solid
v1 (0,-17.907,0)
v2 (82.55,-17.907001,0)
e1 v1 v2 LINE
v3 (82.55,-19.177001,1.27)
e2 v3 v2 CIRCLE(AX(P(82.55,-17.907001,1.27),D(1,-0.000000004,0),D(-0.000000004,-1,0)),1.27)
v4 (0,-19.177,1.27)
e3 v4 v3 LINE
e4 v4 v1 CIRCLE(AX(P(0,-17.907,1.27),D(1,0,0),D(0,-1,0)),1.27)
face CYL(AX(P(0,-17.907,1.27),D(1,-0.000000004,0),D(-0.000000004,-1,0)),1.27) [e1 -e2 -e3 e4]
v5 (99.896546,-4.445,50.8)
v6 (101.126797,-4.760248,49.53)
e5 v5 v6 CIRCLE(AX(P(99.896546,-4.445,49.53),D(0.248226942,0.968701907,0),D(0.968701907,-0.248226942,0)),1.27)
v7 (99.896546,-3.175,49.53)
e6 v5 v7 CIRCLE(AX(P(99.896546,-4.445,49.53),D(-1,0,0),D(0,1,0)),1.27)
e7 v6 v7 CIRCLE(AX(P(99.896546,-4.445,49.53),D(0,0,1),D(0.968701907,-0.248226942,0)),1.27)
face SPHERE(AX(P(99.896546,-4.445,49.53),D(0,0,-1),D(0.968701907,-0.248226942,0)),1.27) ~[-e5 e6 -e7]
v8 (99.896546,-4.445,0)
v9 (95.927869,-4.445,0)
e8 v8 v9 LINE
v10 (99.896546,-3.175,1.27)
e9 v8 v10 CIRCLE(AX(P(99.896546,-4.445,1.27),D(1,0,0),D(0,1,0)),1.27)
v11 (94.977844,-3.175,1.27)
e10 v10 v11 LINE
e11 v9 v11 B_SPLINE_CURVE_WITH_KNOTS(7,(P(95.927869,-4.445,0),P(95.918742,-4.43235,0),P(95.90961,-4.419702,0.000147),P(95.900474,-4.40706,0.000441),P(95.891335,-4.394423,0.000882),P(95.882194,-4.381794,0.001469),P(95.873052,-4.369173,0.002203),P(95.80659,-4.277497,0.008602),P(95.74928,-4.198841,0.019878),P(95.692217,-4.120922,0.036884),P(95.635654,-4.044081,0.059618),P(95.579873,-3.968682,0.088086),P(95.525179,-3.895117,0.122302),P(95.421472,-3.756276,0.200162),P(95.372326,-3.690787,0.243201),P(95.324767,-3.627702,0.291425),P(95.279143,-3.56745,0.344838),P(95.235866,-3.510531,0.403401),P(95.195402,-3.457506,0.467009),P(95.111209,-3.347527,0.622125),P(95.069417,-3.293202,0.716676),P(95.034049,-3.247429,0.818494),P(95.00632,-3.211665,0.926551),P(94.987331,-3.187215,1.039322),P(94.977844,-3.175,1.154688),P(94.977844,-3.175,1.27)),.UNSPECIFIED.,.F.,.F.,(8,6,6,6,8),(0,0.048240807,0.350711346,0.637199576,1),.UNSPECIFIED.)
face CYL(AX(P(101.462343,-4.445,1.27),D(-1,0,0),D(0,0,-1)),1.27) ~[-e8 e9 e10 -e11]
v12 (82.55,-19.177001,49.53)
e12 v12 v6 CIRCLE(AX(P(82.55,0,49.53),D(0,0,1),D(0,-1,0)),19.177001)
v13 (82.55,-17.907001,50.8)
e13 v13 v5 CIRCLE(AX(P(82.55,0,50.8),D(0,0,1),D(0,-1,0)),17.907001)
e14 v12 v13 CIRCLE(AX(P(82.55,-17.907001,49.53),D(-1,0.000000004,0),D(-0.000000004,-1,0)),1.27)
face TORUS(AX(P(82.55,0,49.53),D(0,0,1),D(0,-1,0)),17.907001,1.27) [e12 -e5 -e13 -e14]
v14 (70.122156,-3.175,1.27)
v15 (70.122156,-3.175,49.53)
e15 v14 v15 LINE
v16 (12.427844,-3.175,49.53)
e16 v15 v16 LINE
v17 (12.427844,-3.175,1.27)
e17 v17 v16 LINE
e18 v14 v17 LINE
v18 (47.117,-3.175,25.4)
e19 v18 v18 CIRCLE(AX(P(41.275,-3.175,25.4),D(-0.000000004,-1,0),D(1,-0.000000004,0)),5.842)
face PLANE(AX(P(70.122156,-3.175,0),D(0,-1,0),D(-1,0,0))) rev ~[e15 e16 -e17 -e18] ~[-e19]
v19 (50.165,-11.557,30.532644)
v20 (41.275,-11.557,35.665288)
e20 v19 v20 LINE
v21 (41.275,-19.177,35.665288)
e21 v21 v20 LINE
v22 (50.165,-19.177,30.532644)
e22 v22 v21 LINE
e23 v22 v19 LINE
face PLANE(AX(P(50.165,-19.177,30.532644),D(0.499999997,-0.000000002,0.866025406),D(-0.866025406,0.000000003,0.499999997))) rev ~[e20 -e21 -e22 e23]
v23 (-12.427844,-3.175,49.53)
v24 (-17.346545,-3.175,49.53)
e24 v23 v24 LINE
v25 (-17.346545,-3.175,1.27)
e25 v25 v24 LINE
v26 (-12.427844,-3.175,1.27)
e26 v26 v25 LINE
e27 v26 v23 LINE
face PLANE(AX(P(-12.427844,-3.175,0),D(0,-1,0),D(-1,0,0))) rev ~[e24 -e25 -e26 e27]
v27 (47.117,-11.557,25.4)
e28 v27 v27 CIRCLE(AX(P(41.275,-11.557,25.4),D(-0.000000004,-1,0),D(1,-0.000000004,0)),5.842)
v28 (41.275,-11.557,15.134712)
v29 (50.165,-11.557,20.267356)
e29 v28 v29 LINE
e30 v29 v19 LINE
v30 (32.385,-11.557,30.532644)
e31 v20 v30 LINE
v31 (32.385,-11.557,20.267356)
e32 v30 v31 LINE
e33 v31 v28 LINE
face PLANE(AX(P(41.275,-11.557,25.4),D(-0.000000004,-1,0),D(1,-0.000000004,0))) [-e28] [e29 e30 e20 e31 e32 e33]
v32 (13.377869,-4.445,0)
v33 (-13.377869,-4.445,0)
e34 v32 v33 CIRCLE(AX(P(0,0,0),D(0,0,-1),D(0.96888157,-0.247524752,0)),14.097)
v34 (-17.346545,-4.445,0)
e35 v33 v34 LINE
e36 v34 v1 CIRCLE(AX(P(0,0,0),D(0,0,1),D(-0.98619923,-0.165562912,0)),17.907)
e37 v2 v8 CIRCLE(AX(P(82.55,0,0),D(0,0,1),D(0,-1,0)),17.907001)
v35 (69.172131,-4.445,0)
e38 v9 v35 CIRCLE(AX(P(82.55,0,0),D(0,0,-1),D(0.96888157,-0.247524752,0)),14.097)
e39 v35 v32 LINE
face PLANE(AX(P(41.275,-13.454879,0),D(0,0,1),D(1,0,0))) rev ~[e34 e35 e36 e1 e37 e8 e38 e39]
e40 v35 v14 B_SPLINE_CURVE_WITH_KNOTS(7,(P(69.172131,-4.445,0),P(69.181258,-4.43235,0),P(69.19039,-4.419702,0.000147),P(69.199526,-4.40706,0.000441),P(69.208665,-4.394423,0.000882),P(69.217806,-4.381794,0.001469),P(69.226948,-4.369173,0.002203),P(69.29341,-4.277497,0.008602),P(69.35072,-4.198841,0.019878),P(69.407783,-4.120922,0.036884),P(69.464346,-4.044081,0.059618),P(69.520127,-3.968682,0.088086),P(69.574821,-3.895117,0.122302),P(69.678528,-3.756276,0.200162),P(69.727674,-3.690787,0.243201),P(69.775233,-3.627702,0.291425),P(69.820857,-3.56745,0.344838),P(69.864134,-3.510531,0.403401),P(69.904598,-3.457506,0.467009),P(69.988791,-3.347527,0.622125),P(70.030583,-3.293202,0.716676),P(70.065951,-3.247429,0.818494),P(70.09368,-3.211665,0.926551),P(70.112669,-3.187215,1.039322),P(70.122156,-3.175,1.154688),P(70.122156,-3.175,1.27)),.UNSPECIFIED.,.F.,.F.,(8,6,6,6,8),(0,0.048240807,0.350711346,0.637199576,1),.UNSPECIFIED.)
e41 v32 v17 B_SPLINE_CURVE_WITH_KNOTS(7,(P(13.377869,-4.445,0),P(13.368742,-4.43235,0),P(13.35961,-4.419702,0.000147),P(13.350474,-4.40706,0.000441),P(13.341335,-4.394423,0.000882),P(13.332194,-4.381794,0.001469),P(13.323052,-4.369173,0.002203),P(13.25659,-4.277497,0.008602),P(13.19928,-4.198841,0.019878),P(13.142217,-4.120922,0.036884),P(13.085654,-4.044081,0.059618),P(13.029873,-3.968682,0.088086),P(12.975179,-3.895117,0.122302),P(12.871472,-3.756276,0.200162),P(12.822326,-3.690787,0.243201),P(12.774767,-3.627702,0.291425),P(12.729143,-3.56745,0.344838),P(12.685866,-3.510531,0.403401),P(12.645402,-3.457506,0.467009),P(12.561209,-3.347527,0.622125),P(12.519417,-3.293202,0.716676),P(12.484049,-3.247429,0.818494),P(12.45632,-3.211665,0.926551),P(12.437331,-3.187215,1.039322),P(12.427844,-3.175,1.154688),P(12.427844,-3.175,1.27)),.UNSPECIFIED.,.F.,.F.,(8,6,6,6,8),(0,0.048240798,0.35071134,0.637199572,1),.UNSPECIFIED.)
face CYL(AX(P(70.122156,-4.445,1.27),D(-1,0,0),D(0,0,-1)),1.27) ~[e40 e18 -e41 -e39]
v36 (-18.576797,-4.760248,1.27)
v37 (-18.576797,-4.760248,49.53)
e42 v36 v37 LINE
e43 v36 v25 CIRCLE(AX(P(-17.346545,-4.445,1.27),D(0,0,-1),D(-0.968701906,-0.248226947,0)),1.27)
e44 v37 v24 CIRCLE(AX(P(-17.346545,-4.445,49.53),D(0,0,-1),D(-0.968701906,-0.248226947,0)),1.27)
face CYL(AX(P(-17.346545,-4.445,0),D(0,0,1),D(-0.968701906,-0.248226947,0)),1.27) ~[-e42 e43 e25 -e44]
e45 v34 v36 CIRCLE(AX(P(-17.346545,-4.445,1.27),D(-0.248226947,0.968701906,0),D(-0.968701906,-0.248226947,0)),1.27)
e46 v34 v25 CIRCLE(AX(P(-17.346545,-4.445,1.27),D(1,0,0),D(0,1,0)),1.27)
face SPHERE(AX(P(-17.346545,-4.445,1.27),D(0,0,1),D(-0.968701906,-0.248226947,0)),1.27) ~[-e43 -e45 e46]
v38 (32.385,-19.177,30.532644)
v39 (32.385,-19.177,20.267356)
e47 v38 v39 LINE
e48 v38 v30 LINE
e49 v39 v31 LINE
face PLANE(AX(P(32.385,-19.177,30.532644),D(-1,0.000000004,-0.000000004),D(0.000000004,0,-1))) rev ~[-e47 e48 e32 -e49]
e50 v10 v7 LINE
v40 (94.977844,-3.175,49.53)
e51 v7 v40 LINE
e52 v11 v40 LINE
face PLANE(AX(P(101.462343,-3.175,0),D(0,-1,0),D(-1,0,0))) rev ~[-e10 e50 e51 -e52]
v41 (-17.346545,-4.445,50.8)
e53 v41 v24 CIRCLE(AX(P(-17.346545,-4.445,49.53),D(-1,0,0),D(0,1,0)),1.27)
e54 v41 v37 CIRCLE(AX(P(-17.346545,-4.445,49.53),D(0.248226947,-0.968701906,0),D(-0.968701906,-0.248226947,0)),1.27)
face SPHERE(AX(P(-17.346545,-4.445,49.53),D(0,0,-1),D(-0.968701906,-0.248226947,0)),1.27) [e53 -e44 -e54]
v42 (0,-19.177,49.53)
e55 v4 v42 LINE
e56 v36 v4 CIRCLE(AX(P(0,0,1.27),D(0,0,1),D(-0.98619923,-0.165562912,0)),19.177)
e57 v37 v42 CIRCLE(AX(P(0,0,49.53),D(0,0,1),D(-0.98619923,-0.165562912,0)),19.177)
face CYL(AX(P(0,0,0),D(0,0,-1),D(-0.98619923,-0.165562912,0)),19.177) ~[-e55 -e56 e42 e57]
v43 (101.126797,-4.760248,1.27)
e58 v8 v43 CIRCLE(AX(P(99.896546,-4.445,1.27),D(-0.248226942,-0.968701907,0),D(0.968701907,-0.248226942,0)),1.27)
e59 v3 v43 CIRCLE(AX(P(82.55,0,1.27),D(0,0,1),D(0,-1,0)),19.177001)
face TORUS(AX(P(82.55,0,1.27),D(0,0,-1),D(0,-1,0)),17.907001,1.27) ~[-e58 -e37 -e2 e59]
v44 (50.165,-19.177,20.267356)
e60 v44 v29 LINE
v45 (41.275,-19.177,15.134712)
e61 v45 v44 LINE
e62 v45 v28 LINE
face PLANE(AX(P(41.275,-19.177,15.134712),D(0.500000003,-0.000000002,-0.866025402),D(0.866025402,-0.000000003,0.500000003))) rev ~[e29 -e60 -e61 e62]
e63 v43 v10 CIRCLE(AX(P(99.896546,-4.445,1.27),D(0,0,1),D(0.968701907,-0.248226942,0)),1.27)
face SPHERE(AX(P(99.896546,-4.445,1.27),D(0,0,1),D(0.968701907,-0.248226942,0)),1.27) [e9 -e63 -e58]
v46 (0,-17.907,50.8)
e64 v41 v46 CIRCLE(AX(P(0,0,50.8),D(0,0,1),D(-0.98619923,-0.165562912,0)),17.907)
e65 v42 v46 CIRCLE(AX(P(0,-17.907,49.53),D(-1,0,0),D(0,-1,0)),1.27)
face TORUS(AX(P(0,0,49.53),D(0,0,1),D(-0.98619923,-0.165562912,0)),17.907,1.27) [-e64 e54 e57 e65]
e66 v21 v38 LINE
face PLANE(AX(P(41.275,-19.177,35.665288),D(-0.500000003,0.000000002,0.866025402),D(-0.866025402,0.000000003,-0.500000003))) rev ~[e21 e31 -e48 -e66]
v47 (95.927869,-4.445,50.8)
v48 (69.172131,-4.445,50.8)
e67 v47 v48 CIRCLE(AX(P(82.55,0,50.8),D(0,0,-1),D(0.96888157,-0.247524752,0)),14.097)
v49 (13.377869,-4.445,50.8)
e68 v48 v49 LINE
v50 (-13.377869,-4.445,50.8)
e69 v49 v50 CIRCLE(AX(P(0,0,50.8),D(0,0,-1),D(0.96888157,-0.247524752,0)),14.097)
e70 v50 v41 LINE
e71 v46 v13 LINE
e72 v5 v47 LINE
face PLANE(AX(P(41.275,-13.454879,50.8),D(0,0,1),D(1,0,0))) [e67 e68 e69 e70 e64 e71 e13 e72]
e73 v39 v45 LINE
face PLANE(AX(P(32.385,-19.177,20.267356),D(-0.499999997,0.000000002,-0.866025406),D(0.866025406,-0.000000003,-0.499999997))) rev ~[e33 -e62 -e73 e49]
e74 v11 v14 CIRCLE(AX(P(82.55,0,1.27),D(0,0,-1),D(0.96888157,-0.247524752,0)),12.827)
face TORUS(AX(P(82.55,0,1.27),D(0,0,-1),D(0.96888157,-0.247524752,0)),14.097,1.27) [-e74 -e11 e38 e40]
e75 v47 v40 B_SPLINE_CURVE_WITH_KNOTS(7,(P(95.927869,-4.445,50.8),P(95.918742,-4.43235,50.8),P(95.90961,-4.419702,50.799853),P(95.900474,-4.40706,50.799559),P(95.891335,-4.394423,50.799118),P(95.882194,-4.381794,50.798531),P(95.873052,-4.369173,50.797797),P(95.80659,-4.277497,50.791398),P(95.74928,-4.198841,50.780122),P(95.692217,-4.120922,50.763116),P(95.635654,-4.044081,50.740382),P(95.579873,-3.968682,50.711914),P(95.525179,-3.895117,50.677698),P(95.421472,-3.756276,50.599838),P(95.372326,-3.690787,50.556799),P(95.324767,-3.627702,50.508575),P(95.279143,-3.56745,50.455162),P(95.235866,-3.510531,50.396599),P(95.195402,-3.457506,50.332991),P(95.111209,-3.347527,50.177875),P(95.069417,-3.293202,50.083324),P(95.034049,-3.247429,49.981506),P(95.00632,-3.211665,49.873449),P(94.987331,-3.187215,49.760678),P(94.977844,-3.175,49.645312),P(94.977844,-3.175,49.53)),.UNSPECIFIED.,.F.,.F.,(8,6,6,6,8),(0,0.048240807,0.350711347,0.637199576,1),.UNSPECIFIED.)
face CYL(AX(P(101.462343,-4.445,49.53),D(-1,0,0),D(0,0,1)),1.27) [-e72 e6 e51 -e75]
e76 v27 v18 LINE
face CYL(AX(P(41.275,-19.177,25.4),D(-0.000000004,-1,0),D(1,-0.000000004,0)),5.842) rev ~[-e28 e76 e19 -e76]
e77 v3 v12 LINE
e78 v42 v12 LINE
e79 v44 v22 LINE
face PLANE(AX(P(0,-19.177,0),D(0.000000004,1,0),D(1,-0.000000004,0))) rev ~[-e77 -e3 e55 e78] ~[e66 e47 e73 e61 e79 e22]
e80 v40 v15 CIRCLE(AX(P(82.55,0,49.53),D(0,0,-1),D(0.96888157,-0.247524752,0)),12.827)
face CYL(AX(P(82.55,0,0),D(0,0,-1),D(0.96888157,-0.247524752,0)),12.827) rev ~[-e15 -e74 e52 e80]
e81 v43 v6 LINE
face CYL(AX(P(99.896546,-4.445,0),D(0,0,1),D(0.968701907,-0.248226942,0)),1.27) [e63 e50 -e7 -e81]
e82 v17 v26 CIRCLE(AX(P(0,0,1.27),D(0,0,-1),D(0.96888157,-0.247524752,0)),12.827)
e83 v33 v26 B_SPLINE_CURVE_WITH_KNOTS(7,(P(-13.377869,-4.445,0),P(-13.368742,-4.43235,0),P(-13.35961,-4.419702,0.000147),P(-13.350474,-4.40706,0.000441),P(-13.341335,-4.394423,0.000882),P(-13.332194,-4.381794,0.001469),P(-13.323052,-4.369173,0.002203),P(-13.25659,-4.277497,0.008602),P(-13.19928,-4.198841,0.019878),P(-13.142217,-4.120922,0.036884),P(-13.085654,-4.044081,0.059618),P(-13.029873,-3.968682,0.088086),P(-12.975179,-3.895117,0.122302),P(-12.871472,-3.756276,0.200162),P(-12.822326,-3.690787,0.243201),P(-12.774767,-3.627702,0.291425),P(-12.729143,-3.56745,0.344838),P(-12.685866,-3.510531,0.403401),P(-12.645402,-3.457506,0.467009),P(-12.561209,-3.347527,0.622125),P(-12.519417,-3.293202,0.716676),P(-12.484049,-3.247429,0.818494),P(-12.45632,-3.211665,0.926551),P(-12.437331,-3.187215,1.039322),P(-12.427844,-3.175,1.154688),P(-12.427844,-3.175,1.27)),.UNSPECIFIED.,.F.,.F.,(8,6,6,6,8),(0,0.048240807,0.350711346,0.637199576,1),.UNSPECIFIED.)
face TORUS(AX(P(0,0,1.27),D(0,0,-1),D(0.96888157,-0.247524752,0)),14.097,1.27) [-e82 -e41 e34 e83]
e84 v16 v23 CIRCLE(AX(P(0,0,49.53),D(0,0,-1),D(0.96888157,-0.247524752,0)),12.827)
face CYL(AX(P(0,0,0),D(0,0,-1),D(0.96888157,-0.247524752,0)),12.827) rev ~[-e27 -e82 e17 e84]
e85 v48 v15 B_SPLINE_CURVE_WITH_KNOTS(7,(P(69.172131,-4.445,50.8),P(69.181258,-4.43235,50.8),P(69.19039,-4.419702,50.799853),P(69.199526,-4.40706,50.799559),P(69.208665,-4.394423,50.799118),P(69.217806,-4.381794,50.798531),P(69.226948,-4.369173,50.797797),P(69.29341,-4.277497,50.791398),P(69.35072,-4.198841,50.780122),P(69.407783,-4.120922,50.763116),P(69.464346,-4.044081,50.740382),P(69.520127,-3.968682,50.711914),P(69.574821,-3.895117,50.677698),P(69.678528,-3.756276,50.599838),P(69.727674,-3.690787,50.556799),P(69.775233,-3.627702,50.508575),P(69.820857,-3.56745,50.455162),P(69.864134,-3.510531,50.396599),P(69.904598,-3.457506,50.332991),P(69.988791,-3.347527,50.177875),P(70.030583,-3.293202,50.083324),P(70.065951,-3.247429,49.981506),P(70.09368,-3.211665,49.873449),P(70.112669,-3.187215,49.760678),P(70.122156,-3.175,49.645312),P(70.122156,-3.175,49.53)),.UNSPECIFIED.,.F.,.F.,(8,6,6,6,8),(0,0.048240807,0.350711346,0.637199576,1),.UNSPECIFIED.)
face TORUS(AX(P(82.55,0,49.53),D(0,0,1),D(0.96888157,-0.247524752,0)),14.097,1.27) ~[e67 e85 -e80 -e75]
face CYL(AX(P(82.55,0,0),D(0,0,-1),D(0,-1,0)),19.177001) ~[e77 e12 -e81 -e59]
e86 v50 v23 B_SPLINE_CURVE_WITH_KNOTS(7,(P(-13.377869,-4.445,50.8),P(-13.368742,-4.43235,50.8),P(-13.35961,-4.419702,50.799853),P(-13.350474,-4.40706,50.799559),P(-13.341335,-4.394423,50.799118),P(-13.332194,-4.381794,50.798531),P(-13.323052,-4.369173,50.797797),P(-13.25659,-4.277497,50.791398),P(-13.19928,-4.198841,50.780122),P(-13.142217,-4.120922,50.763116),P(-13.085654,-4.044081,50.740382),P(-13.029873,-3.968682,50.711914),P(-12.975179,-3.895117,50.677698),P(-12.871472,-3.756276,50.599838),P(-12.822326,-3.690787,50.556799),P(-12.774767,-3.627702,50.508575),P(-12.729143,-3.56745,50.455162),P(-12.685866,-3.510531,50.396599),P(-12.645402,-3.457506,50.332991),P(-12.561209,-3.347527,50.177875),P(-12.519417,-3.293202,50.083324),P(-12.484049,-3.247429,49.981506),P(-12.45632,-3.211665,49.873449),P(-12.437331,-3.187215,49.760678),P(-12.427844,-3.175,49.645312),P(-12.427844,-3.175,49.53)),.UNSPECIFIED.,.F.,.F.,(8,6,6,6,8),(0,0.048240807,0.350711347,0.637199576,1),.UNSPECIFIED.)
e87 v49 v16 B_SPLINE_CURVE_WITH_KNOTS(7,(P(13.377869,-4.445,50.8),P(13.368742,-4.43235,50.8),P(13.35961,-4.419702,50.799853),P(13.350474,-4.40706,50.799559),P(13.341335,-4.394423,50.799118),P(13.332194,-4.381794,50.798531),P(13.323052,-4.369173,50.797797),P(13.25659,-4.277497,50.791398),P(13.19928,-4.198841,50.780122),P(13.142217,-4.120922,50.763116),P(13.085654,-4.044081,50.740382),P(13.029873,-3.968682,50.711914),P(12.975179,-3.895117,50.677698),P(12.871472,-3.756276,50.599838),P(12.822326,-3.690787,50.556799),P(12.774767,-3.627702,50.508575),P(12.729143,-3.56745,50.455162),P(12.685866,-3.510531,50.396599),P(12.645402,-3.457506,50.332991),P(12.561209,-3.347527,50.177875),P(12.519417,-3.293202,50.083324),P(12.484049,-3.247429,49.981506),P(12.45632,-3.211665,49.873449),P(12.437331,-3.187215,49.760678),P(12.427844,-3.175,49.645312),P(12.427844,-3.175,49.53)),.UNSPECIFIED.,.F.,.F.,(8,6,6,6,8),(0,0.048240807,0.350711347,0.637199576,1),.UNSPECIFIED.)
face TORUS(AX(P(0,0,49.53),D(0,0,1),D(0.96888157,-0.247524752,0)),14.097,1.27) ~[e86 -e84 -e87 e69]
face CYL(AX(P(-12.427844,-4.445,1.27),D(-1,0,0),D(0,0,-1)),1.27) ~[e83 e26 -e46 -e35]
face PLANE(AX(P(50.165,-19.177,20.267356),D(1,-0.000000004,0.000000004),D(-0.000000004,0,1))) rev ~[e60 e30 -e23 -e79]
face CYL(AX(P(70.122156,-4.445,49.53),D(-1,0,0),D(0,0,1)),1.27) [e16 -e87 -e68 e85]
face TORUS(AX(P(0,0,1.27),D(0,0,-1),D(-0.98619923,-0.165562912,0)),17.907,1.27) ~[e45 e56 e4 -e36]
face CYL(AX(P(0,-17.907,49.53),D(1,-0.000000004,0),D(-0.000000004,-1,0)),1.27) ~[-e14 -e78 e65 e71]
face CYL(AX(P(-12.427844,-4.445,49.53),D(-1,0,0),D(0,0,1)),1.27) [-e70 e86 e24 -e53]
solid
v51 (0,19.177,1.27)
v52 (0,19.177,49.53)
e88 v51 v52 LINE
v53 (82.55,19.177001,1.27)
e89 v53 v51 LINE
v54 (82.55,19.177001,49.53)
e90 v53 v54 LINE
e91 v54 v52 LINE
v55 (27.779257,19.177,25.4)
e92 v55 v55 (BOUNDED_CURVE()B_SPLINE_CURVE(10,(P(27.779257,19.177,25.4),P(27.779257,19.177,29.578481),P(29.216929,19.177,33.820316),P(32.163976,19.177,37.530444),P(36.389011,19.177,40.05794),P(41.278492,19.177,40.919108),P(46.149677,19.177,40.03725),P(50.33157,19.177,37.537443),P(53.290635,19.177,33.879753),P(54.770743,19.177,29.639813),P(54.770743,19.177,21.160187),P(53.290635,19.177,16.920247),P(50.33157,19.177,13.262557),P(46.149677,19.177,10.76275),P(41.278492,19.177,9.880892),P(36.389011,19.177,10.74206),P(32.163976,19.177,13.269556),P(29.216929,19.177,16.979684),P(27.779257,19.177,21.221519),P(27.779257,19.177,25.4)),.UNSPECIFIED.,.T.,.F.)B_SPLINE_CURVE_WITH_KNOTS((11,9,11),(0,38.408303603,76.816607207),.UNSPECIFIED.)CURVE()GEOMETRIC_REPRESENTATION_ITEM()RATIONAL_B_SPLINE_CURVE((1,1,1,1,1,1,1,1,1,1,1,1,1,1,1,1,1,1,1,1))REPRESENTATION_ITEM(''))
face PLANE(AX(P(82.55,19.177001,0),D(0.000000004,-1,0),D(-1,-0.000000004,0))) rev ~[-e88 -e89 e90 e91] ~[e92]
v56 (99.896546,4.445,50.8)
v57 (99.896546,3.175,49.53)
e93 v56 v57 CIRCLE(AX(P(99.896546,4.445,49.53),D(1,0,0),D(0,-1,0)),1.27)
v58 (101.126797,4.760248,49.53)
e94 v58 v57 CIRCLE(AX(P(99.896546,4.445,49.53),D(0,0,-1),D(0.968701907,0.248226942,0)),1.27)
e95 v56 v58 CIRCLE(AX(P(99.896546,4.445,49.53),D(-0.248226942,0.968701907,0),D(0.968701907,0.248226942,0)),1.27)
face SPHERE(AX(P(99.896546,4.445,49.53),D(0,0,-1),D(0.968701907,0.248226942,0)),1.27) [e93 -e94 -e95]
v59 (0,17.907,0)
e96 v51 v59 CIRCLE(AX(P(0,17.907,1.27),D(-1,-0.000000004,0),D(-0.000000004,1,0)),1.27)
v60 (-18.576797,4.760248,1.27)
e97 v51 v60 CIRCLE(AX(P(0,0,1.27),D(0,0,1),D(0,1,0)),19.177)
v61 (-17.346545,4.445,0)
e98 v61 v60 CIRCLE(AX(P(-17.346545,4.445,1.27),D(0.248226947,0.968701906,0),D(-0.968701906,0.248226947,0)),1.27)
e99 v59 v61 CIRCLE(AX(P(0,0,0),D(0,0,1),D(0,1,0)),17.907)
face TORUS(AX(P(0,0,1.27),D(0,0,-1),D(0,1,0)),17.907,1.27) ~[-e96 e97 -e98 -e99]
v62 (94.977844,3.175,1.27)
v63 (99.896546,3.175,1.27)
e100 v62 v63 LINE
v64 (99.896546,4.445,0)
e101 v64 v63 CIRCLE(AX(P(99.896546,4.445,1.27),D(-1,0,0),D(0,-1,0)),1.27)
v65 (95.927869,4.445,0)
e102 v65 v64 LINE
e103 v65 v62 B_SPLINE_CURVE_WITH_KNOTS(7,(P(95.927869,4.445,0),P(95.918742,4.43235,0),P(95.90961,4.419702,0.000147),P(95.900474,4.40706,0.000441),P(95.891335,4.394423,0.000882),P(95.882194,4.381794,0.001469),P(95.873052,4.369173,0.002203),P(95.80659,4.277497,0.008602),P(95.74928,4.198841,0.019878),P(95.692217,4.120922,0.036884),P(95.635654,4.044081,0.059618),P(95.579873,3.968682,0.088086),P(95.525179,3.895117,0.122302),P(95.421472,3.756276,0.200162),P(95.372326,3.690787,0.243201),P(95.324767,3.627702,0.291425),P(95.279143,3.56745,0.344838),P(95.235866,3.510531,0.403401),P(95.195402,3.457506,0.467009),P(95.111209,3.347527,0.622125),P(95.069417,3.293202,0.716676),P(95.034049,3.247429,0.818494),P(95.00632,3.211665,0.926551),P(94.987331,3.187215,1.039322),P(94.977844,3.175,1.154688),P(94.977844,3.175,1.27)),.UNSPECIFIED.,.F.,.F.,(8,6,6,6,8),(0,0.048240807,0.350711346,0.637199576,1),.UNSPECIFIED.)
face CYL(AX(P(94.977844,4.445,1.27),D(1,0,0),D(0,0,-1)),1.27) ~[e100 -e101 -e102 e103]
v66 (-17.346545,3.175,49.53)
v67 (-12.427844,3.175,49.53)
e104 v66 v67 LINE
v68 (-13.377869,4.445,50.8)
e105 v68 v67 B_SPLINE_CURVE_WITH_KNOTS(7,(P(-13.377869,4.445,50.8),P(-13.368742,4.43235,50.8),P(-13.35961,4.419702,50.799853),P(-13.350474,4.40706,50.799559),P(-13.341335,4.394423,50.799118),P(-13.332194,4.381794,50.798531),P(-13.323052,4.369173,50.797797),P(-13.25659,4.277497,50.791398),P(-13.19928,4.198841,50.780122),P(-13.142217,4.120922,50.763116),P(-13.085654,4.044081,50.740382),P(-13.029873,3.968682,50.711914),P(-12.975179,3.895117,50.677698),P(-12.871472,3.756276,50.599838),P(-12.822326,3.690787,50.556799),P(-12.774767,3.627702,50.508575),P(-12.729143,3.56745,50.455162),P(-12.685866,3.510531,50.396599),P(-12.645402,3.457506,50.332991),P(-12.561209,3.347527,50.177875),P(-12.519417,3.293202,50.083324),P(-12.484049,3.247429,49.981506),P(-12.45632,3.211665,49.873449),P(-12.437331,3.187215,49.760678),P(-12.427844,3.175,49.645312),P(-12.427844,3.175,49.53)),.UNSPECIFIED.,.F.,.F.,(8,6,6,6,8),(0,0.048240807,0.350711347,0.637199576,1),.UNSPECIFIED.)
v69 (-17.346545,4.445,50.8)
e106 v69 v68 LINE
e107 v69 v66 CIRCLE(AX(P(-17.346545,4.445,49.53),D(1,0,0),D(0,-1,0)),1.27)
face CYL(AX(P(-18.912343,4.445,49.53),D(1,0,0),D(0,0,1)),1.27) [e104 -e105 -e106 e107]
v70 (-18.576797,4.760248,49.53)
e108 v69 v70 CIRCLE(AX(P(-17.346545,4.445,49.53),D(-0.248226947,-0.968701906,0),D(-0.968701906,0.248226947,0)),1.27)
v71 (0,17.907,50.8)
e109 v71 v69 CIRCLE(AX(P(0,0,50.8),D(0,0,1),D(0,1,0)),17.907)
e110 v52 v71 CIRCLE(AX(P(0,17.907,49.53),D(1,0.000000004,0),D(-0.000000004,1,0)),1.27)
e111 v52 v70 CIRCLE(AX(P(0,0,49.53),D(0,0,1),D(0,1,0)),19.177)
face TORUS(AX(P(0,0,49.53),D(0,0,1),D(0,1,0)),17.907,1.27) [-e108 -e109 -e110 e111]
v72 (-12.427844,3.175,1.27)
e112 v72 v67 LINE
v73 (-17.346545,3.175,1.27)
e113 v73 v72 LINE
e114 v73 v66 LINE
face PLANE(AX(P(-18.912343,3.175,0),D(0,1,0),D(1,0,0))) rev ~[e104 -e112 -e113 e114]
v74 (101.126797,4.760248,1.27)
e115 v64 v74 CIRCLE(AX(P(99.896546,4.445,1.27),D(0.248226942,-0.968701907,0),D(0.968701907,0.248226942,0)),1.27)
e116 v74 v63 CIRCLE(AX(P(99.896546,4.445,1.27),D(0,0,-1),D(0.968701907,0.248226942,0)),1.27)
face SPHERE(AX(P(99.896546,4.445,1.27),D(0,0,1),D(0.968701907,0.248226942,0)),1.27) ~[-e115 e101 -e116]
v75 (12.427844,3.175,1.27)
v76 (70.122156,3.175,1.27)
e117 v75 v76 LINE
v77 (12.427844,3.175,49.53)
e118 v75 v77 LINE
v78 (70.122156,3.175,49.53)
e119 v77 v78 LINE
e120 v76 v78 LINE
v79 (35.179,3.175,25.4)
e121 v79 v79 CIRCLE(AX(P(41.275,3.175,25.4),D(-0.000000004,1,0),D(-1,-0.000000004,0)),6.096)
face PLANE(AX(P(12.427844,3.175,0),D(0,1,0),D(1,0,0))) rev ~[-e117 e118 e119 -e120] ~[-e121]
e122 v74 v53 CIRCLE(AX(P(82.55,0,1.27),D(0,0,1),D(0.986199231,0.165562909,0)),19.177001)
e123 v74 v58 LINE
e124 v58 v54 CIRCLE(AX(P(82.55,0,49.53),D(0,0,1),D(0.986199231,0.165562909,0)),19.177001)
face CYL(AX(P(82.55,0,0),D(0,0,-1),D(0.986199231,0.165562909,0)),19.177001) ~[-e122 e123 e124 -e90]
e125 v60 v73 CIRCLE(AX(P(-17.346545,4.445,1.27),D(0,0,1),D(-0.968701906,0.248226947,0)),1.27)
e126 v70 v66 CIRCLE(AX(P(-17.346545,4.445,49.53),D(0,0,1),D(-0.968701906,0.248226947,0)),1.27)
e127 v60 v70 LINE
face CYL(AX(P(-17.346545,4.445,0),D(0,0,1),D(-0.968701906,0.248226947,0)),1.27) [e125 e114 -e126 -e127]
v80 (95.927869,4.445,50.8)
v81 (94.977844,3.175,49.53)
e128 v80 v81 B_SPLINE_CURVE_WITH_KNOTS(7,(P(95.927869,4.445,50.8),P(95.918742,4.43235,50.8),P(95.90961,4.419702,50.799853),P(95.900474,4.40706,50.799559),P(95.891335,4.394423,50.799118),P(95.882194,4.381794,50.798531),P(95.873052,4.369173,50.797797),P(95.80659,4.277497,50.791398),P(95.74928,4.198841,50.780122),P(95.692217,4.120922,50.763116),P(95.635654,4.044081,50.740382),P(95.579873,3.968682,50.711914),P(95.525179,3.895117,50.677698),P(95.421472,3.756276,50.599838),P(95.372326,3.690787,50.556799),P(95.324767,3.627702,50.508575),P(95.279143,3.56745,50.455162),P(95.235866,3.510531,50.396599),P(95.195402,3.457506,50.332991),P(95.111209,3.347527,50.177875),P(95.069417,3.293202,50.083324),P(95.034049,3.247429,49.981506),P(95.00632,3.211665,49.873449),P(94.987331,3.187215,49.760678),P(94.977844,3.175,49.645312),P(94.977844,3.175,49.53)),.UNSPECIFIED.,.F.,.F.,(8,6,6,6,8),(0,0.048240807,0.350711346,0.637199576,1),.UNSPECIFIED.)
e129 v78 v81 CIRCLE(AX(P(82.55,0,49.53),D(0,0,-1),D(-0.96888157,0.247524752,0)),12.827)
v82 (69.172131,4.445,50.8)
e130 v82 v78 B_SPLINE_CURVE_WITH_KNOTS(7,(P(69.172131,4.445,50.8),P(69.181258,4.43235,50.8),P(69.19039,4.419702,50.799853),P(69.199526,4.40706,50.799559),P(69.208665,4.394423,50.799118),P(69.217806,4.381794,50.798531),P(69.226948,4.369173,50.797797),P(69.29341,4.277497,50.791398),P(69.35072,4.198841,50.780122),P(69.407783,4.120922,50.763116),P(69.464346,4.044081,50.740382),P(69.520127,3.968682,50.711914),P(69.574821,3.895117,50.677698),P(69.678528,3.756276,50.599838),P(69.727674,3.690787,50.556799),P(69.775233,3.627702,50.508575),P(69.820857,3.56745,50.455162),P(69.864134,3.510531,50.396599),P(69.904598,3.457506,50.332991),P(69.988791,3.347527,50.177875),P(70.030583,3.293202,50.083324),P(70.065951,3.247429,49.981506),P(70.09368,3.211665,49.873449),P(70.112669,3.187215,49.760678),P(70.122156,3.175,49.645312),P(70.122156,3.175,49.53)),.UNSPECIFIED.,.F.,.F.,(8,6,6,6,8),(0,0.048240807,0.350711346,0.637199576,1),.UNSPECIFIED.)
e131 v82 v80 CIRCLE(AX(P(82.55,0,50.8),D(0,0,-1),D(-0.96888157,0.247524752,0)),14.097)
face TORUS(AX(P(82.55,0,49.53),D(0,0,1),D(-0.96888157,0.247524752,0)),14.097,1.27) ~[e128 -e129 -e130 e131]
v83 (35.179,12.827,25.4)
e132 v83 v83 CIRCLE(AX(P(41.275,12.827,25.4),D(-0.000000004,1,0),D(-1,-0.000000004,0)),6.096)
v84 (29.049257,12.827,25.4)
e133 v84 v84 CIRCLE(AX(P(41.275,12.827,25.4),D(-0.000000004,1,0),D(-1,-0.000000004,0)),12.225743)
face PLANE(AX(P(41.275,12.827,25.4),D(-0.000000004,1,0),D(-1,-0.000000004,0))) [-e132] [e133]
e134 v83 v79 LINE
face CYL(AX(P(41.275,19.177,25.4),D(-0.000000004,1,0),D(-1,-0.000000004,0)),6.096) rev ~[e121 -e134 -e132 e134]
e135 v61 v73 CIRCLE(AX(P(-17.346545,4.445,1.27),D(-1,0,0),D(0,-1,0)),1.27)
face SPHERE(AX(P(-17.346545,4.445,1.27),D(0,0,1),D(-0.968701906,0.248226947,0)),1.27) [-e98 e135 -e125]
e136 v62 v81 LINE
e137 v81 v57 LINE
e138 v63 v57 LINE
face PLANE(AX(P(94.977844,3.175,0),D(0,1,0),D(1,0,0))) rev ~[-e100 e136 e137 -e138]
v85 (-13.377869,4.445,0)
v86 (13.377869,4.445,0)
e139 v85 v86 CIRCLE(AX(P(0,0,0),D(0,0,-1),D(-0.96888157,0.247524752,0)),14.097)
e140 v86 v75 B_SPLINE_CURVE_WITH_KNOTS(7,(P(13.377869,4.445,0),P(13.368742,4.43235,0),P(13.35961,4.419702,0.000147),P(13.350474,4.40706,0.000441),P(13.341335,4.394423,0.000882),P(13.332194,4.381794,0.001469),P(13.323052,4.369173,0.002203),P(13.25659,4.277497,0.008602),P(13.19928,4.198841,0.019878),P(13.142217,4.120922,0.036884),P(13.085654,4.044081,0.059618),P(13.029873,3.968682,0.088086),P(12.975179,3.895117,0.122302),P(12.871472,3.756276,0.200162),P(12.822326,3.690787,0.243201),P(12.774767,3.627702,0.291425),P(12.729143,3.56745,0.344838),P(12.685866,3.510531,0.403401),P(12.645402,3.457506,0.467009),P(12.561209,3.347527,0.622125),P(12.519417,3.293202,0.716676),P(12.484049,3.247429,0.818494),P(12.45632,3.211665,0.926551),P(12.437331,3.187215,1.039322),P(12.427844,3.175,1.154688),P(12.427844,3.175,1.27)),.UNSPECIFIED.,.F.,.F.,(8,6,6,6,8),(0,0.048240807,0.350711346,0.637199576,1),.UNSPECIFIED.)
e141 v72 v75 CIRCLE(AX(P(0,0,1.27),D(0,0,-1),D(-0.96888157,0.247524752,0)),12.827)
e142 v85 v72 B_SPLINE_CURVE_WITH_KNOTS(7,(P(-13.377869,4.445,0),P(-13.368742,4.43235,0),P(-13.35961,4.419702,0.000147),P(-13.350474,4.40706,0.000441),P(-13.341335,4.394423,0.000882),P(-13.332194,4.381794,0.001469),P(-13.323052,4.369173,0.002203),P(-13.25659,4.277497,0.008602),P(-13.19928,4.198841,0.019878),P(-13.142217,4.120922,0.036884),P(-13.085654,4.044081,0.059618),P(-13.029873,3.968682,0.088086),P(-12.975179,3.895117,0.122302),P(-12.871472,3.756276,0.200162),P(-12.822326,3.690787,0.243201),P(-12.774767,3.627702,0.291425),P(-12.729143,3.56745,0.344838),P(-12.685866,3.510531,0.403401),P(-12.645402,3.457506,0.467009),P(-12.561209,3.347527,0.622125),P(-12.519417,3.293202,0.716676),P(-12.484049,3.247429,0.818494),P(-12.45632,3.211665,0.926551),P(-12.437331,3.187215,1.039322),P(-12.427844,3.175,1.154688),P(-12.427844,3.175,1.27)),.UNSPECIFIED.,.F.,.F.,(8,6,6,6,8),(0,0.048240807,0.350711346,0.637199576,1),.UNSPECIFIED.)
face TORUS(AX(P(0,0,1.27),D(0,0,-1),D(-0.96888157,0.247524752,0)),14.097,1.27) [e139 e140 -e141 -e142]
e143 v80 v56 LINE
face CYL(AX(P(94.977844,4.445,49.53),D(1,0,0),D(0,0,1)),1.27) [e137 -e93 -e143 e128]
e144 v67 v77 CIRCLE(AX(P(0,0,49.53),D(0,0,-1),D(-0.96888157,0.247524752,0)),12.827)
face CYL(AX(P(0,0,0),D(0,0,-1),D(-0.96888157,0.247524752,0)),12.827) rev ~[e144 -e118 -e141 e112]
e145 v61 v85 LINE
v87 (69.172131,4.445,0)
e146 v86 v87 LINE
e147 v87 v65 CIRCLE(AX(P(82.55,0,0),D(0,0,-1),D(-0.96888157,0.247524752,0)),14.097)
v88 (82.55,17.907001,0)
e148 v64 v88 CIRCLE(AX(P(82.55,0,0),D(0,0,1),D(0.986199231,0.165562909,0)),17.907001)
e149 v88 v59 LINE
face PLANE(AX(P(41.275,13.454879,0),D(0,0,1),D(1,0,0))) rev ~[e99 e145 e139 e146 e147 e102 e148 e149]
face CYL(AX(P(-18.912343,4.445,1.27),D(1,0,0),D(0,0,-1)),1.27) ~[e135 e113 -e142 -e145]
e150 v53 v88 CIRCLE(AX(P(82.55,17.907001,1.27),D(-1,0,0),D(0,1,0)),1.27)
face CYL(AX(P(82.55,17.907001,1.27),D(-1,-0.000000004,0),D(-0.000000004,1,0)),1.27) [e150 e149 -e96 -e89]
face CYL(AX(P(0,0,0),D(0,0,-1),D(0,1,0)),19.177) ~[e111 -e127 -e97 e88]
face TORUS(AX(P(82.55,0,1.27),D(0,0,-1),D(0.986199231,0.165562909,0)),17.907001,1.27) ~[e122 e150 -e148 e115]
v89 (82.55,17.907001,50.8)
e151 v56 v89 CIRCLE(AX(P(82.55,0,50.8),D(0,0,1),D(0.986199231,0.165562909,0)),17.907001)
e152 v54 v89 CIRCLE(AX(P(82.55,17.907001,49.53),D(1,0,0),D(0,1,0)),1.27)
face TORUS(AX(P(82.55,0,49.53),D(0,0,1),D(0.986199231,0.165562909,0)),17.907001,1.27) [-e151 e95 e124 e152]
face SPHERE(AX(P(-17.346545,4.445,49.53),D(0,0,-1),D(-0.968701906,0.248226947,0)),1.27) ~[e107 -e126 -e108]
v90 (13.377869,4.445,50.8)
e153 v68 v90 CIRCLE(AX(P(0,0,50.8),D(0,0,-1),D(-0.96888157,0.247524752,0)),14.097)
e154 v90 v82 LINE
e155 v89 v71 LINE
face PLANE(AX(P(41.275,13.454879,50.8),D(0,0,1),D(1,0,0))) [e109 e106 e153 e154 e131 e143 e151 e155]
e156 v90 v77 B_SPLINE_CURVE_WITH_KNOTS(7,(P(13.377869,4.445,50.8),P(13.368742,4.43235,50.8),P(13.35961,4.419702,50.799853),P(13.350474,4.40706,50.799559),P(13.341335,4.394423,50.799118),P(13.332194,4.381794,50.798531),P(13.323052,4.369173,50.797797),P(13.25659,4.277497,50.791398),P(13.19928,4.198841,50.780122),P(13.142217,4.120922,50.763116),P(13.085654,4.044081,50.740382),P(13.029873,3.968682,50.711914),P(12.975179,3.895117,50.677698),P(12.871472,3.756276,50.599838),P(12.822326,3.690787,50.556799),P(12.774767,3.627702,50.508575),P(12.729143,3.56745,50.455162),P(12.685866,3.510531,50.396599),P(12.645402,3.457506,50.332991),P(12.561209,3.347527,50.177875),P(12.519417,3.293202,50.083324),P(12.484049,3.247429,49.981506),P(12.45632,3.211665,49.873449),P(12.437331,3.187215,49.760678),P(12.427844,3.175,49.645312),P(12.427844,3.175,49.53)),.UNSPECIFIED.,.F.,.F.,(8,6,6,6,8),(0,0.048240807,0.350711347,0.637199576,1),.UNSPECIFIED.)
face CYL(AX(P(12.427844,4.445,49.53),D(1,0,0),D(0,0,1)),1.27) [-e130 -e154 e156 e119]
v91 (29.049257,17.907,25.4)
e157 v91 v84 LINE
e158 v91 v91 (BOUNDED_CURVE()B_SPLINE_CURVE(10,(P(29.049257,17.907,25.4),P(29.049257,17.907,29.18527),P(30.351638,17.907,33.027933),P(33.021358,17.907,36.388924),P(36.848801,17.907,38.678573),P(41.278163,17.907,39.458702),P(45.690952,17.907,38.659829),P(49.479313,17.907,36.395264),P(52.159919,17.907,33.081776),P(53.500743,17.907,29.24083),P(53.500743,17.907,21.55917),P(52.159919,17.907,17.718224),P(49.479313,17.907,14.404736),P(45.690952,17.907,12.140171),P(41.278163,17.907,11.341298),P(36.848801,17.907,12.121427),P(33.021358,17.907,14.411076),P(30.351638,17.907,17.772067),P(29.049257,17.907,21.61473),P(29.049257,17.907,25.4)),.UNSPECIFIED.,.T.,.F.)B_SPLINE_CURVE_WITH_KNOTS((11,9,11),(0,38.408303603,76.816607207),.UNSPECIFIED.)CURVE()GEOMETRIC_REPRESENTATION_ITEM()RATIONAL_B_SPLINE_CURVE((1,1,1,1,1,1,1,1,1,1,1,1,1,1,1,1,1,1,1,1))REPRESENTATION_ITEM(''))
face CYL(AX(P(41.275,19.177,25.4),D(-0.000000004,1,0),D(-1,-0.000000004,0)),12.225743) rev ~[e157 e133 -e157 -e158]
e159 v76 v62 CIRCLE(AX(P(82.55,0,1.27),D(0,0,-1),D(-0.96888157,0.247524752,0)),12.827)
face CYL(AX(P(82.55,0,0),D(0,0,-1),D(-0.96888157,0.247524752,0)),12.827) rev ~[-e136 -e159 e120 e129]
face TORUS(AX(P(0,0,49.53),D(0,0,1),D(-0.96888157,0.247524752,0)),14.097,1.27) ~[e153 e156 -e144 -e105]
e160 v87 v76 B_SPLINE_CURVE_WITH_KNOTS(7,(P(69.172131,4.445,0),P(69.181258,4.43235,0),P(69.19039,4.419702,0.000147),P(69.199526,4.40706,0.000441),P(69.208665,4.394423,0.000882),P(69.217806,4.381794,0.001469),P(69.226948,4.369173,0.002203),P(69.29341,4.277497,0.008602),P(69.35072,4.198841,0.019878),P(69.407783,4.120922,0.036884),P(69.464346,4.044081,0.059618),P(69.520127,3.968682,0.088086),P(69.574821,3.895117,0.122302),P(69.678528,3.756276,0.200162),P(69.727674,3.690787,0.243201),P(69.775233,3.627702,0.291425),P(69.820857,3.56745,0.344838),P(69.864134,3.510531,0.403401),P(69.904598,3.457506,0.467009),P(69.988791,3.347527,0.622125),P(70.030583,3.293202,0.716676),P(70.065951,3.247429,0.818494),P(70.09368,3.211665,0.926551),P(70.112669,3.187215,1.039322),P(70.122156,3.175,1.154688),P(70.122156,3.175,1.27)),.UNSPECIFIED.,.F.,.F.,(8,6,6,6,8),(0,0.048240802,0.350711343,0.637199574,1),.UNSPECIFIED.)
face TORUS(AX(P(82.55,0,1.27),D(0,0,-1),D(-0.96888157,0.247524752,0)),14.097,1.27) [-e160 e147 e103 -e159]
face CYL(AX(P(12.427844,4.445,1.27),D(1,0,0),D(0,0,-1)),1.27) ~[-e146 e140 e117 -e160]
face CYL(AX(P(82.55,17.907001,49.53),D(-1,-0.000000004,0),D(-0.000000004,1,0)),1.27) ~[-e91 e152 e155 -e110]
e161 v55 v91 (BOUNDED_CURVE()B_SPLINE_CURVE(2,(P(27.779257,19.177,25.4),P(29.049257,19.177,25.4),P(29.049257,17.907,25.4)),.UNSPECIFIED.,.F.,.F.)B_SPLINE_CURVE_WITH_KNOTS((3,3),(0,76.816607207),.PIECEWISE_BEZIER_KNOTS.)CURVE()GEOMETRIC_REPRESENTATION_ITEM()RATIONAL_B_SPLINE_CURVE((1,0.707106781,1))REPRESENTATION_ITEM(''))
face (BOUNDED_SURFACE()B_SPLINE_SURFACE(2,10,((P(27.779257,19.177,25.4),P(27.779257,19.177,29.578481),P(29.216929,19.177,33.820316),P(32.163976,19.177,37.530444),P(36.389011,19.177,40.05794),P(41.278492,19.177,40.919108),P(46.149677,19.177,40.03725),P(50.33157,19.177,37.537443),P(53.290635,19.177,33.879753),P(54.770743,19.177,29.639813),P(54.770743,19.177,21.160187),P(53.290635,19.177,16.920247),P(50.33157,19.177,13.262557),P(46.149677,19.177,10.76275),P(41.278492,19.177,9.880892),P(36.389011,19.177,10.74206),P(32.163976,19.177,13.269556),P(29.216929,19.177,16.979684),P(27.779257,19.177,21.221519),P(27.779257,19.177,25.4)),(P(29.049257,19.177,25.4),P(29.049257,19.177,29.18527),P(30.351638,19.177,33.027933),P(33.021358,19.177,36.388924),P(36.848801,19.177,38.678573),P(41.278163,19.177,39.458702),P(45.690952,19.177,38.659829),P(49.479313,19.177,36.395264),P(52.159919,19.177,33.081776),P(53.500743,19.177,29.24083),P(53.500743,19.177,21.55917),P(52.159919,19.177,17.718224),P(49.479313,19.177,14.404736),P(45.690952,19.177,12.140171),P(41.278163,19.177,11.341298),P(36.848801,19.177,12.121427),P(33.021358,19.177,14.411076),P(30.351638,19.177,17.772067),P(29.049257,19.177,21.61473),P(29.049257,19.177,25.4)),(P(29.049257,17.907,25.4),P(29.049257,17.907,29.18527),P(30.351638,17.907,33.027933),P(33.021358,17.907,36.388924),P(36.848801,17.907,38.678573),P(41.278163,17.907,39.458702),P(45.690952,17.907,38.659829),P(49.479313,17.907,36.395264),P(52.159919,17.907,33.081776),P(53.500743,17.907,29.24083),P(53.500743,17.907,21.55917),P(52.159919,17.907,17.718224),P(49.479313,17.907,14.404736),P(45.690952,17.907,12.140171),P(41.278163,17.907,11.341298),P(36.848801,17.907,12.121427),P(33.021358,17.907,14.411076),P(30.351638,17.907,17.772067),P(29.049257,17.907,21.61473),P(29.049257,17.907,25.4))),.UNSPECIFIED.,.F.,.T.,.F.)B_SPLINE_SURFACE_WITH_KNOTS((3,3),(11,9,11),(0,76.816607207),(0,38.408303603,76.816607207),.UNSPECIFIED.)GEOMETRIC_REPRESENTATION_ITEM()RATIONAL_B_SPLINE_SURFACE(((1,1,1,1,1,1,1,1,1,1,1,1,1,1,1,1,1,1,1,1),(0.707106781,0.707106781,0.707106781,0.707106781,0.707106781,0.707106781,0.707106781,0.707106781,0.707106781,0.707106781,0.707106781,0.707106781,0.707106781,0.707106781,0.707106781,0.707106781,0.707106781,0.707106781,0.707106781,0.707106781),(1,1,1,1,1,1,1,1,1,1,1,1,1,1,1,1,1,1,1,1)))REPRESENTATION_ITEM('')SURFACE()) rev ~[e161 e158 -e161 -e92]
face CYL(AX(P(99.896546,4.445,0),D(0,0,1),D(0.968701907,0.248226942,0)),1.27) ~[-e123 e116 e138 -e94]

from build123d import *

# Parameters (mm, degrees)
F1_DEPTH = 50.8
F2_R     = 5.842
F3_DEPTH = 25.4
F4_DEPTH = 7.62
F5_R     = 6.096
F6_DEPTH = 25.4
F5_R_2   = 12.2257427485
F7_DEPTH = 6.35
F8_R     = 1.27
F8_2_R   = 1.27


with BuildPart() as f1:
    # F0 (on Top) → F1 (new body)
    with BuildSketch(Plane.XY):
        with BuildLine():
            ThreePointArc((0, 19.1770002437), (12.3868955467, 14.639745799), (18.9123428836, 3.175))
            Line((18.9123428836, 3.175), (63.6376567787, 3.175))
            ThreePointArc((63.6376567787, 3.175), (70.1631042168, 14.6397460352), (82.55, 19.1770005768))
            Line((82.55, 19.1770005768), (0, 19.1770002437))
        make_face()
        with BuildLine():
            Line((12.4278438999, 3.175), (18.9123428836, 3.175))
            ThreePointArc((18.9123428836, 3.175), (12.3868955467, 14.639745799), (0, 19.1770002437))
            ThreePointArc((0, 19.1770002437), (-12.3868955467, 14.639745799), (-18.9123428836, 3.175))
            Line((-18.9123428836, 3.175), (-12.4278438999, 3.175))
            ThreePointArc((-12.4278438999, 3.175), (0, 12.827), (12.4278438999, 3.175))
        make_face()
        with BuildLine():
            ThreePointArc((82.55, 19.1770005768), (70.1631042168, 14.6397460352), (63.6376567787, 3.175))
            Line((63.6376567787, 3.175), (70.1221561001, 3.175))
            ThreePointArc((70.1221561001, 3.175), (82.55, 12.827), (94.9778438999, 3.175))
            Line((94.9778438999, 3.175), (101.4623432213, 3.175))
            ThreePointArc((101.4623432213, 3.175), (94.9368957832, 14.6397460352), (82.55, 19.1770005768))
        make_face()
    extrude(amount=F1_DEPTH)


with BuildPart() as f1b:
    # F0 (on Top) → F1, piece 2 (new body)
    with BuildSketch(Plane.XY):
        with BuildLine():
            Line((63.6376567787, -3.175), (18.9123428836, -3.175))
            ThreePointArc((18.9123428836, -3.175), (12.3868955467, -14.639745799), (0, -19.1770002437))
            Line((0, -19.1770002437), (82.55, -19.1770005768))
            ThreePointArc((82.55, -19.1770005768), (70.1631042168, -14.6397460352), (63.6376567787, -3.175))
        make_face()
        with BuildLine():
            Line((70.1221561001, -3.175), (63.6376567787, -3.175))
            ThreePointArc((63.6376567787, -3.175), (70.1631042168, -14.6397460352), (82.55, -19.1770005768))
            ThreePointArc((82.55, -19.1770005768), (94.9368957832, -14.6397460352), (101.4623432213, -3.175))
            Line((101.4623432213, -3.175), (94.9778438999, -3.175))
            ThreePointArc((94.9778438999, -3.175), (82.55, -12.827), (70.1221561001, -3.175))
        make_face()
        with BuildLine():
            ThreePointArc((12.4278438999, -3.175), (0, -12.827), (-12.4278438999, -3.175))
            Line((-12.4278438999, -3.175), (-18.9123428836, -3.175))
            ThreePointArc((-18.9123428836, -3.175), (-12.3868955467, -14.639745799), (0, -19.1770002437))
            ThreePointArc((0, -19.1770002437), (12.3868955467, -14.639745799), (18.9123428836, -3.175))
            Line((18.9123428836, -3.175), (12.4278438999, -3.175))
        make_face()
    extrude(amount=F1_DEPTH)


with BuildPart() as f3_tool:
    # F2 (on face) → F3 (new body)
    with BuildSketch(Plane(origin=(-7.74e-08, -19.1770002437, 0), x_dir=(1, -4e-09, 0), z_dir=(-4e-09, -1, 0))):
        with Locations((41.2750000387, 25.4)):
            Circle(F2_R)
    extrude(amount=-F3_DEPTH)


with BuildPart() as f1_1:
    add(f1.part)

    # F3: cut by f3_tool
    add(f3_tool.part, mode=Mode.SUBTRACT)

    # F5 (on face) → F6 (cut)
    with BuildSketch(Plane(origin=(-7.74e-08, 19.1770002437, 0), x_dir=(-1, -4e-09, 0), z_dir=(-4e-09, 1, 0))):
        with Locations((-41.275, 25.4)):
            Circle(F5_R)
    extrude(amount=-F6_DEPTH, mode=Mode.SUBTRACT)

    # F5 (on face) → F7 (cut)
    with BuildSketch(Plane(origin=(-7.74e-08, 19.1770002437, 0), x_dir=(-1, -4e-09, 0), z_dir=(-4e-09, 1, 0))):
        with Locations((-41.275, 25.4)):
            Circle(F5_R_2)
        with Locations((-41.275, 25.4)):
            Circle(F5_R, mode=Mode.SUBTRACT)
    extrude(amount=-F7_DEPTH, mode=Mode.SUBTRACT)

    # F8#2
    f8_2_edges = [f1_1.edges().sort_by_distance(p)[0] for p in [
        (41.275, 19.177, 50.8),
        (-12.386896, 14.639746, 50.8),
        (-15.670093, 3.175, 50.8),
        (0, 12.827, 50.8),
        (41.275, 3.175, 50.8),
        (82.55, 12.827, 50.8),
        (98.220094, 3.175, 50.8),
        (94.936896, 14.639746, 50.8),
        (41.275, 19.177, 0),
        (-12.386896, 14.639746, 0),
        (-15.670093, 3.175, 0),
        (0, 12.827, 0),
        (41.275, 3.175, 0),
        (82.55, 12.827, 0),
        (98.220094, 3.175, 0),
        (94.936896, 14.639746, 0),
        (53.500743, 19.177, 25.4),
        (101.462343, 3.175, 25.4),
        (-18.912343, 3.175, 25.4),
    ]]
    fillet(f8_2_edges, radius=F8_2_R)


with BuildPart() as f1b_1:
    add(f1b.part)

    # F3: cut by f3_tool
    add(f3_tool.part, mode=Mode.SUBTRACT)

    # F2 (on face) → F4 (cut)
    with BuildSketch(Plane(origin=(-7.74e-08, -19.1770002437, 0), x_dir=(1, -4e-09, 0), z_dir=(-4e-09, -1, 0))):
        Polygon((41.2750000774, 15.1347122138), (50.165000058, 20.2673561404), (50.1650000193, 30.5326439266), (41.275, 35.6652877862), (32.3850000193, 30.5326438596), (32.385000058, 20.2673560734), align=None)
        with Locations((41.2750000387, 25.4)):
            Circle(F2_R, mode=Mode.SUBTRACT)
    extrude(amount=-F4_DEPTH, mode=Mode.SUBTRACT)

    # F8
    f8_edges = [f1b_1.edges().sort_by_distance(p)[0] for p in [
        (41.275, -19.177, 50.8),
        (94.936896, -14.639746, 50.8),
        (98.220094, -3.175, 50.8),
        (82.55, -12.827, 50.8),
        (41.275, -3.175, 50.8),
        (0, -12.827, 50.8),
        (-15.670093, -3.175, 50.8),
        (-12.386896, -14.639746, 50.8),
        (41.275, -19.177, 0),
        (94.936896, -14.639746, 0),
        (98.220094, -3.175, 0),
        (82.55, -12.827, 0),
        (41.275, -3.175, 0),
        (0, -12.827, 0),
        (-15.670093, -3.175, 0),
        (-12.386896, -14.639746, 0),
        (101.462343, -3.175, 25.4),
        (-18.912343, -3.175, 25.4),
    ]]
    fillet(f8_edges, radius=F8_R)


solid = Compound([f1_1.part, f1b_1.part])
